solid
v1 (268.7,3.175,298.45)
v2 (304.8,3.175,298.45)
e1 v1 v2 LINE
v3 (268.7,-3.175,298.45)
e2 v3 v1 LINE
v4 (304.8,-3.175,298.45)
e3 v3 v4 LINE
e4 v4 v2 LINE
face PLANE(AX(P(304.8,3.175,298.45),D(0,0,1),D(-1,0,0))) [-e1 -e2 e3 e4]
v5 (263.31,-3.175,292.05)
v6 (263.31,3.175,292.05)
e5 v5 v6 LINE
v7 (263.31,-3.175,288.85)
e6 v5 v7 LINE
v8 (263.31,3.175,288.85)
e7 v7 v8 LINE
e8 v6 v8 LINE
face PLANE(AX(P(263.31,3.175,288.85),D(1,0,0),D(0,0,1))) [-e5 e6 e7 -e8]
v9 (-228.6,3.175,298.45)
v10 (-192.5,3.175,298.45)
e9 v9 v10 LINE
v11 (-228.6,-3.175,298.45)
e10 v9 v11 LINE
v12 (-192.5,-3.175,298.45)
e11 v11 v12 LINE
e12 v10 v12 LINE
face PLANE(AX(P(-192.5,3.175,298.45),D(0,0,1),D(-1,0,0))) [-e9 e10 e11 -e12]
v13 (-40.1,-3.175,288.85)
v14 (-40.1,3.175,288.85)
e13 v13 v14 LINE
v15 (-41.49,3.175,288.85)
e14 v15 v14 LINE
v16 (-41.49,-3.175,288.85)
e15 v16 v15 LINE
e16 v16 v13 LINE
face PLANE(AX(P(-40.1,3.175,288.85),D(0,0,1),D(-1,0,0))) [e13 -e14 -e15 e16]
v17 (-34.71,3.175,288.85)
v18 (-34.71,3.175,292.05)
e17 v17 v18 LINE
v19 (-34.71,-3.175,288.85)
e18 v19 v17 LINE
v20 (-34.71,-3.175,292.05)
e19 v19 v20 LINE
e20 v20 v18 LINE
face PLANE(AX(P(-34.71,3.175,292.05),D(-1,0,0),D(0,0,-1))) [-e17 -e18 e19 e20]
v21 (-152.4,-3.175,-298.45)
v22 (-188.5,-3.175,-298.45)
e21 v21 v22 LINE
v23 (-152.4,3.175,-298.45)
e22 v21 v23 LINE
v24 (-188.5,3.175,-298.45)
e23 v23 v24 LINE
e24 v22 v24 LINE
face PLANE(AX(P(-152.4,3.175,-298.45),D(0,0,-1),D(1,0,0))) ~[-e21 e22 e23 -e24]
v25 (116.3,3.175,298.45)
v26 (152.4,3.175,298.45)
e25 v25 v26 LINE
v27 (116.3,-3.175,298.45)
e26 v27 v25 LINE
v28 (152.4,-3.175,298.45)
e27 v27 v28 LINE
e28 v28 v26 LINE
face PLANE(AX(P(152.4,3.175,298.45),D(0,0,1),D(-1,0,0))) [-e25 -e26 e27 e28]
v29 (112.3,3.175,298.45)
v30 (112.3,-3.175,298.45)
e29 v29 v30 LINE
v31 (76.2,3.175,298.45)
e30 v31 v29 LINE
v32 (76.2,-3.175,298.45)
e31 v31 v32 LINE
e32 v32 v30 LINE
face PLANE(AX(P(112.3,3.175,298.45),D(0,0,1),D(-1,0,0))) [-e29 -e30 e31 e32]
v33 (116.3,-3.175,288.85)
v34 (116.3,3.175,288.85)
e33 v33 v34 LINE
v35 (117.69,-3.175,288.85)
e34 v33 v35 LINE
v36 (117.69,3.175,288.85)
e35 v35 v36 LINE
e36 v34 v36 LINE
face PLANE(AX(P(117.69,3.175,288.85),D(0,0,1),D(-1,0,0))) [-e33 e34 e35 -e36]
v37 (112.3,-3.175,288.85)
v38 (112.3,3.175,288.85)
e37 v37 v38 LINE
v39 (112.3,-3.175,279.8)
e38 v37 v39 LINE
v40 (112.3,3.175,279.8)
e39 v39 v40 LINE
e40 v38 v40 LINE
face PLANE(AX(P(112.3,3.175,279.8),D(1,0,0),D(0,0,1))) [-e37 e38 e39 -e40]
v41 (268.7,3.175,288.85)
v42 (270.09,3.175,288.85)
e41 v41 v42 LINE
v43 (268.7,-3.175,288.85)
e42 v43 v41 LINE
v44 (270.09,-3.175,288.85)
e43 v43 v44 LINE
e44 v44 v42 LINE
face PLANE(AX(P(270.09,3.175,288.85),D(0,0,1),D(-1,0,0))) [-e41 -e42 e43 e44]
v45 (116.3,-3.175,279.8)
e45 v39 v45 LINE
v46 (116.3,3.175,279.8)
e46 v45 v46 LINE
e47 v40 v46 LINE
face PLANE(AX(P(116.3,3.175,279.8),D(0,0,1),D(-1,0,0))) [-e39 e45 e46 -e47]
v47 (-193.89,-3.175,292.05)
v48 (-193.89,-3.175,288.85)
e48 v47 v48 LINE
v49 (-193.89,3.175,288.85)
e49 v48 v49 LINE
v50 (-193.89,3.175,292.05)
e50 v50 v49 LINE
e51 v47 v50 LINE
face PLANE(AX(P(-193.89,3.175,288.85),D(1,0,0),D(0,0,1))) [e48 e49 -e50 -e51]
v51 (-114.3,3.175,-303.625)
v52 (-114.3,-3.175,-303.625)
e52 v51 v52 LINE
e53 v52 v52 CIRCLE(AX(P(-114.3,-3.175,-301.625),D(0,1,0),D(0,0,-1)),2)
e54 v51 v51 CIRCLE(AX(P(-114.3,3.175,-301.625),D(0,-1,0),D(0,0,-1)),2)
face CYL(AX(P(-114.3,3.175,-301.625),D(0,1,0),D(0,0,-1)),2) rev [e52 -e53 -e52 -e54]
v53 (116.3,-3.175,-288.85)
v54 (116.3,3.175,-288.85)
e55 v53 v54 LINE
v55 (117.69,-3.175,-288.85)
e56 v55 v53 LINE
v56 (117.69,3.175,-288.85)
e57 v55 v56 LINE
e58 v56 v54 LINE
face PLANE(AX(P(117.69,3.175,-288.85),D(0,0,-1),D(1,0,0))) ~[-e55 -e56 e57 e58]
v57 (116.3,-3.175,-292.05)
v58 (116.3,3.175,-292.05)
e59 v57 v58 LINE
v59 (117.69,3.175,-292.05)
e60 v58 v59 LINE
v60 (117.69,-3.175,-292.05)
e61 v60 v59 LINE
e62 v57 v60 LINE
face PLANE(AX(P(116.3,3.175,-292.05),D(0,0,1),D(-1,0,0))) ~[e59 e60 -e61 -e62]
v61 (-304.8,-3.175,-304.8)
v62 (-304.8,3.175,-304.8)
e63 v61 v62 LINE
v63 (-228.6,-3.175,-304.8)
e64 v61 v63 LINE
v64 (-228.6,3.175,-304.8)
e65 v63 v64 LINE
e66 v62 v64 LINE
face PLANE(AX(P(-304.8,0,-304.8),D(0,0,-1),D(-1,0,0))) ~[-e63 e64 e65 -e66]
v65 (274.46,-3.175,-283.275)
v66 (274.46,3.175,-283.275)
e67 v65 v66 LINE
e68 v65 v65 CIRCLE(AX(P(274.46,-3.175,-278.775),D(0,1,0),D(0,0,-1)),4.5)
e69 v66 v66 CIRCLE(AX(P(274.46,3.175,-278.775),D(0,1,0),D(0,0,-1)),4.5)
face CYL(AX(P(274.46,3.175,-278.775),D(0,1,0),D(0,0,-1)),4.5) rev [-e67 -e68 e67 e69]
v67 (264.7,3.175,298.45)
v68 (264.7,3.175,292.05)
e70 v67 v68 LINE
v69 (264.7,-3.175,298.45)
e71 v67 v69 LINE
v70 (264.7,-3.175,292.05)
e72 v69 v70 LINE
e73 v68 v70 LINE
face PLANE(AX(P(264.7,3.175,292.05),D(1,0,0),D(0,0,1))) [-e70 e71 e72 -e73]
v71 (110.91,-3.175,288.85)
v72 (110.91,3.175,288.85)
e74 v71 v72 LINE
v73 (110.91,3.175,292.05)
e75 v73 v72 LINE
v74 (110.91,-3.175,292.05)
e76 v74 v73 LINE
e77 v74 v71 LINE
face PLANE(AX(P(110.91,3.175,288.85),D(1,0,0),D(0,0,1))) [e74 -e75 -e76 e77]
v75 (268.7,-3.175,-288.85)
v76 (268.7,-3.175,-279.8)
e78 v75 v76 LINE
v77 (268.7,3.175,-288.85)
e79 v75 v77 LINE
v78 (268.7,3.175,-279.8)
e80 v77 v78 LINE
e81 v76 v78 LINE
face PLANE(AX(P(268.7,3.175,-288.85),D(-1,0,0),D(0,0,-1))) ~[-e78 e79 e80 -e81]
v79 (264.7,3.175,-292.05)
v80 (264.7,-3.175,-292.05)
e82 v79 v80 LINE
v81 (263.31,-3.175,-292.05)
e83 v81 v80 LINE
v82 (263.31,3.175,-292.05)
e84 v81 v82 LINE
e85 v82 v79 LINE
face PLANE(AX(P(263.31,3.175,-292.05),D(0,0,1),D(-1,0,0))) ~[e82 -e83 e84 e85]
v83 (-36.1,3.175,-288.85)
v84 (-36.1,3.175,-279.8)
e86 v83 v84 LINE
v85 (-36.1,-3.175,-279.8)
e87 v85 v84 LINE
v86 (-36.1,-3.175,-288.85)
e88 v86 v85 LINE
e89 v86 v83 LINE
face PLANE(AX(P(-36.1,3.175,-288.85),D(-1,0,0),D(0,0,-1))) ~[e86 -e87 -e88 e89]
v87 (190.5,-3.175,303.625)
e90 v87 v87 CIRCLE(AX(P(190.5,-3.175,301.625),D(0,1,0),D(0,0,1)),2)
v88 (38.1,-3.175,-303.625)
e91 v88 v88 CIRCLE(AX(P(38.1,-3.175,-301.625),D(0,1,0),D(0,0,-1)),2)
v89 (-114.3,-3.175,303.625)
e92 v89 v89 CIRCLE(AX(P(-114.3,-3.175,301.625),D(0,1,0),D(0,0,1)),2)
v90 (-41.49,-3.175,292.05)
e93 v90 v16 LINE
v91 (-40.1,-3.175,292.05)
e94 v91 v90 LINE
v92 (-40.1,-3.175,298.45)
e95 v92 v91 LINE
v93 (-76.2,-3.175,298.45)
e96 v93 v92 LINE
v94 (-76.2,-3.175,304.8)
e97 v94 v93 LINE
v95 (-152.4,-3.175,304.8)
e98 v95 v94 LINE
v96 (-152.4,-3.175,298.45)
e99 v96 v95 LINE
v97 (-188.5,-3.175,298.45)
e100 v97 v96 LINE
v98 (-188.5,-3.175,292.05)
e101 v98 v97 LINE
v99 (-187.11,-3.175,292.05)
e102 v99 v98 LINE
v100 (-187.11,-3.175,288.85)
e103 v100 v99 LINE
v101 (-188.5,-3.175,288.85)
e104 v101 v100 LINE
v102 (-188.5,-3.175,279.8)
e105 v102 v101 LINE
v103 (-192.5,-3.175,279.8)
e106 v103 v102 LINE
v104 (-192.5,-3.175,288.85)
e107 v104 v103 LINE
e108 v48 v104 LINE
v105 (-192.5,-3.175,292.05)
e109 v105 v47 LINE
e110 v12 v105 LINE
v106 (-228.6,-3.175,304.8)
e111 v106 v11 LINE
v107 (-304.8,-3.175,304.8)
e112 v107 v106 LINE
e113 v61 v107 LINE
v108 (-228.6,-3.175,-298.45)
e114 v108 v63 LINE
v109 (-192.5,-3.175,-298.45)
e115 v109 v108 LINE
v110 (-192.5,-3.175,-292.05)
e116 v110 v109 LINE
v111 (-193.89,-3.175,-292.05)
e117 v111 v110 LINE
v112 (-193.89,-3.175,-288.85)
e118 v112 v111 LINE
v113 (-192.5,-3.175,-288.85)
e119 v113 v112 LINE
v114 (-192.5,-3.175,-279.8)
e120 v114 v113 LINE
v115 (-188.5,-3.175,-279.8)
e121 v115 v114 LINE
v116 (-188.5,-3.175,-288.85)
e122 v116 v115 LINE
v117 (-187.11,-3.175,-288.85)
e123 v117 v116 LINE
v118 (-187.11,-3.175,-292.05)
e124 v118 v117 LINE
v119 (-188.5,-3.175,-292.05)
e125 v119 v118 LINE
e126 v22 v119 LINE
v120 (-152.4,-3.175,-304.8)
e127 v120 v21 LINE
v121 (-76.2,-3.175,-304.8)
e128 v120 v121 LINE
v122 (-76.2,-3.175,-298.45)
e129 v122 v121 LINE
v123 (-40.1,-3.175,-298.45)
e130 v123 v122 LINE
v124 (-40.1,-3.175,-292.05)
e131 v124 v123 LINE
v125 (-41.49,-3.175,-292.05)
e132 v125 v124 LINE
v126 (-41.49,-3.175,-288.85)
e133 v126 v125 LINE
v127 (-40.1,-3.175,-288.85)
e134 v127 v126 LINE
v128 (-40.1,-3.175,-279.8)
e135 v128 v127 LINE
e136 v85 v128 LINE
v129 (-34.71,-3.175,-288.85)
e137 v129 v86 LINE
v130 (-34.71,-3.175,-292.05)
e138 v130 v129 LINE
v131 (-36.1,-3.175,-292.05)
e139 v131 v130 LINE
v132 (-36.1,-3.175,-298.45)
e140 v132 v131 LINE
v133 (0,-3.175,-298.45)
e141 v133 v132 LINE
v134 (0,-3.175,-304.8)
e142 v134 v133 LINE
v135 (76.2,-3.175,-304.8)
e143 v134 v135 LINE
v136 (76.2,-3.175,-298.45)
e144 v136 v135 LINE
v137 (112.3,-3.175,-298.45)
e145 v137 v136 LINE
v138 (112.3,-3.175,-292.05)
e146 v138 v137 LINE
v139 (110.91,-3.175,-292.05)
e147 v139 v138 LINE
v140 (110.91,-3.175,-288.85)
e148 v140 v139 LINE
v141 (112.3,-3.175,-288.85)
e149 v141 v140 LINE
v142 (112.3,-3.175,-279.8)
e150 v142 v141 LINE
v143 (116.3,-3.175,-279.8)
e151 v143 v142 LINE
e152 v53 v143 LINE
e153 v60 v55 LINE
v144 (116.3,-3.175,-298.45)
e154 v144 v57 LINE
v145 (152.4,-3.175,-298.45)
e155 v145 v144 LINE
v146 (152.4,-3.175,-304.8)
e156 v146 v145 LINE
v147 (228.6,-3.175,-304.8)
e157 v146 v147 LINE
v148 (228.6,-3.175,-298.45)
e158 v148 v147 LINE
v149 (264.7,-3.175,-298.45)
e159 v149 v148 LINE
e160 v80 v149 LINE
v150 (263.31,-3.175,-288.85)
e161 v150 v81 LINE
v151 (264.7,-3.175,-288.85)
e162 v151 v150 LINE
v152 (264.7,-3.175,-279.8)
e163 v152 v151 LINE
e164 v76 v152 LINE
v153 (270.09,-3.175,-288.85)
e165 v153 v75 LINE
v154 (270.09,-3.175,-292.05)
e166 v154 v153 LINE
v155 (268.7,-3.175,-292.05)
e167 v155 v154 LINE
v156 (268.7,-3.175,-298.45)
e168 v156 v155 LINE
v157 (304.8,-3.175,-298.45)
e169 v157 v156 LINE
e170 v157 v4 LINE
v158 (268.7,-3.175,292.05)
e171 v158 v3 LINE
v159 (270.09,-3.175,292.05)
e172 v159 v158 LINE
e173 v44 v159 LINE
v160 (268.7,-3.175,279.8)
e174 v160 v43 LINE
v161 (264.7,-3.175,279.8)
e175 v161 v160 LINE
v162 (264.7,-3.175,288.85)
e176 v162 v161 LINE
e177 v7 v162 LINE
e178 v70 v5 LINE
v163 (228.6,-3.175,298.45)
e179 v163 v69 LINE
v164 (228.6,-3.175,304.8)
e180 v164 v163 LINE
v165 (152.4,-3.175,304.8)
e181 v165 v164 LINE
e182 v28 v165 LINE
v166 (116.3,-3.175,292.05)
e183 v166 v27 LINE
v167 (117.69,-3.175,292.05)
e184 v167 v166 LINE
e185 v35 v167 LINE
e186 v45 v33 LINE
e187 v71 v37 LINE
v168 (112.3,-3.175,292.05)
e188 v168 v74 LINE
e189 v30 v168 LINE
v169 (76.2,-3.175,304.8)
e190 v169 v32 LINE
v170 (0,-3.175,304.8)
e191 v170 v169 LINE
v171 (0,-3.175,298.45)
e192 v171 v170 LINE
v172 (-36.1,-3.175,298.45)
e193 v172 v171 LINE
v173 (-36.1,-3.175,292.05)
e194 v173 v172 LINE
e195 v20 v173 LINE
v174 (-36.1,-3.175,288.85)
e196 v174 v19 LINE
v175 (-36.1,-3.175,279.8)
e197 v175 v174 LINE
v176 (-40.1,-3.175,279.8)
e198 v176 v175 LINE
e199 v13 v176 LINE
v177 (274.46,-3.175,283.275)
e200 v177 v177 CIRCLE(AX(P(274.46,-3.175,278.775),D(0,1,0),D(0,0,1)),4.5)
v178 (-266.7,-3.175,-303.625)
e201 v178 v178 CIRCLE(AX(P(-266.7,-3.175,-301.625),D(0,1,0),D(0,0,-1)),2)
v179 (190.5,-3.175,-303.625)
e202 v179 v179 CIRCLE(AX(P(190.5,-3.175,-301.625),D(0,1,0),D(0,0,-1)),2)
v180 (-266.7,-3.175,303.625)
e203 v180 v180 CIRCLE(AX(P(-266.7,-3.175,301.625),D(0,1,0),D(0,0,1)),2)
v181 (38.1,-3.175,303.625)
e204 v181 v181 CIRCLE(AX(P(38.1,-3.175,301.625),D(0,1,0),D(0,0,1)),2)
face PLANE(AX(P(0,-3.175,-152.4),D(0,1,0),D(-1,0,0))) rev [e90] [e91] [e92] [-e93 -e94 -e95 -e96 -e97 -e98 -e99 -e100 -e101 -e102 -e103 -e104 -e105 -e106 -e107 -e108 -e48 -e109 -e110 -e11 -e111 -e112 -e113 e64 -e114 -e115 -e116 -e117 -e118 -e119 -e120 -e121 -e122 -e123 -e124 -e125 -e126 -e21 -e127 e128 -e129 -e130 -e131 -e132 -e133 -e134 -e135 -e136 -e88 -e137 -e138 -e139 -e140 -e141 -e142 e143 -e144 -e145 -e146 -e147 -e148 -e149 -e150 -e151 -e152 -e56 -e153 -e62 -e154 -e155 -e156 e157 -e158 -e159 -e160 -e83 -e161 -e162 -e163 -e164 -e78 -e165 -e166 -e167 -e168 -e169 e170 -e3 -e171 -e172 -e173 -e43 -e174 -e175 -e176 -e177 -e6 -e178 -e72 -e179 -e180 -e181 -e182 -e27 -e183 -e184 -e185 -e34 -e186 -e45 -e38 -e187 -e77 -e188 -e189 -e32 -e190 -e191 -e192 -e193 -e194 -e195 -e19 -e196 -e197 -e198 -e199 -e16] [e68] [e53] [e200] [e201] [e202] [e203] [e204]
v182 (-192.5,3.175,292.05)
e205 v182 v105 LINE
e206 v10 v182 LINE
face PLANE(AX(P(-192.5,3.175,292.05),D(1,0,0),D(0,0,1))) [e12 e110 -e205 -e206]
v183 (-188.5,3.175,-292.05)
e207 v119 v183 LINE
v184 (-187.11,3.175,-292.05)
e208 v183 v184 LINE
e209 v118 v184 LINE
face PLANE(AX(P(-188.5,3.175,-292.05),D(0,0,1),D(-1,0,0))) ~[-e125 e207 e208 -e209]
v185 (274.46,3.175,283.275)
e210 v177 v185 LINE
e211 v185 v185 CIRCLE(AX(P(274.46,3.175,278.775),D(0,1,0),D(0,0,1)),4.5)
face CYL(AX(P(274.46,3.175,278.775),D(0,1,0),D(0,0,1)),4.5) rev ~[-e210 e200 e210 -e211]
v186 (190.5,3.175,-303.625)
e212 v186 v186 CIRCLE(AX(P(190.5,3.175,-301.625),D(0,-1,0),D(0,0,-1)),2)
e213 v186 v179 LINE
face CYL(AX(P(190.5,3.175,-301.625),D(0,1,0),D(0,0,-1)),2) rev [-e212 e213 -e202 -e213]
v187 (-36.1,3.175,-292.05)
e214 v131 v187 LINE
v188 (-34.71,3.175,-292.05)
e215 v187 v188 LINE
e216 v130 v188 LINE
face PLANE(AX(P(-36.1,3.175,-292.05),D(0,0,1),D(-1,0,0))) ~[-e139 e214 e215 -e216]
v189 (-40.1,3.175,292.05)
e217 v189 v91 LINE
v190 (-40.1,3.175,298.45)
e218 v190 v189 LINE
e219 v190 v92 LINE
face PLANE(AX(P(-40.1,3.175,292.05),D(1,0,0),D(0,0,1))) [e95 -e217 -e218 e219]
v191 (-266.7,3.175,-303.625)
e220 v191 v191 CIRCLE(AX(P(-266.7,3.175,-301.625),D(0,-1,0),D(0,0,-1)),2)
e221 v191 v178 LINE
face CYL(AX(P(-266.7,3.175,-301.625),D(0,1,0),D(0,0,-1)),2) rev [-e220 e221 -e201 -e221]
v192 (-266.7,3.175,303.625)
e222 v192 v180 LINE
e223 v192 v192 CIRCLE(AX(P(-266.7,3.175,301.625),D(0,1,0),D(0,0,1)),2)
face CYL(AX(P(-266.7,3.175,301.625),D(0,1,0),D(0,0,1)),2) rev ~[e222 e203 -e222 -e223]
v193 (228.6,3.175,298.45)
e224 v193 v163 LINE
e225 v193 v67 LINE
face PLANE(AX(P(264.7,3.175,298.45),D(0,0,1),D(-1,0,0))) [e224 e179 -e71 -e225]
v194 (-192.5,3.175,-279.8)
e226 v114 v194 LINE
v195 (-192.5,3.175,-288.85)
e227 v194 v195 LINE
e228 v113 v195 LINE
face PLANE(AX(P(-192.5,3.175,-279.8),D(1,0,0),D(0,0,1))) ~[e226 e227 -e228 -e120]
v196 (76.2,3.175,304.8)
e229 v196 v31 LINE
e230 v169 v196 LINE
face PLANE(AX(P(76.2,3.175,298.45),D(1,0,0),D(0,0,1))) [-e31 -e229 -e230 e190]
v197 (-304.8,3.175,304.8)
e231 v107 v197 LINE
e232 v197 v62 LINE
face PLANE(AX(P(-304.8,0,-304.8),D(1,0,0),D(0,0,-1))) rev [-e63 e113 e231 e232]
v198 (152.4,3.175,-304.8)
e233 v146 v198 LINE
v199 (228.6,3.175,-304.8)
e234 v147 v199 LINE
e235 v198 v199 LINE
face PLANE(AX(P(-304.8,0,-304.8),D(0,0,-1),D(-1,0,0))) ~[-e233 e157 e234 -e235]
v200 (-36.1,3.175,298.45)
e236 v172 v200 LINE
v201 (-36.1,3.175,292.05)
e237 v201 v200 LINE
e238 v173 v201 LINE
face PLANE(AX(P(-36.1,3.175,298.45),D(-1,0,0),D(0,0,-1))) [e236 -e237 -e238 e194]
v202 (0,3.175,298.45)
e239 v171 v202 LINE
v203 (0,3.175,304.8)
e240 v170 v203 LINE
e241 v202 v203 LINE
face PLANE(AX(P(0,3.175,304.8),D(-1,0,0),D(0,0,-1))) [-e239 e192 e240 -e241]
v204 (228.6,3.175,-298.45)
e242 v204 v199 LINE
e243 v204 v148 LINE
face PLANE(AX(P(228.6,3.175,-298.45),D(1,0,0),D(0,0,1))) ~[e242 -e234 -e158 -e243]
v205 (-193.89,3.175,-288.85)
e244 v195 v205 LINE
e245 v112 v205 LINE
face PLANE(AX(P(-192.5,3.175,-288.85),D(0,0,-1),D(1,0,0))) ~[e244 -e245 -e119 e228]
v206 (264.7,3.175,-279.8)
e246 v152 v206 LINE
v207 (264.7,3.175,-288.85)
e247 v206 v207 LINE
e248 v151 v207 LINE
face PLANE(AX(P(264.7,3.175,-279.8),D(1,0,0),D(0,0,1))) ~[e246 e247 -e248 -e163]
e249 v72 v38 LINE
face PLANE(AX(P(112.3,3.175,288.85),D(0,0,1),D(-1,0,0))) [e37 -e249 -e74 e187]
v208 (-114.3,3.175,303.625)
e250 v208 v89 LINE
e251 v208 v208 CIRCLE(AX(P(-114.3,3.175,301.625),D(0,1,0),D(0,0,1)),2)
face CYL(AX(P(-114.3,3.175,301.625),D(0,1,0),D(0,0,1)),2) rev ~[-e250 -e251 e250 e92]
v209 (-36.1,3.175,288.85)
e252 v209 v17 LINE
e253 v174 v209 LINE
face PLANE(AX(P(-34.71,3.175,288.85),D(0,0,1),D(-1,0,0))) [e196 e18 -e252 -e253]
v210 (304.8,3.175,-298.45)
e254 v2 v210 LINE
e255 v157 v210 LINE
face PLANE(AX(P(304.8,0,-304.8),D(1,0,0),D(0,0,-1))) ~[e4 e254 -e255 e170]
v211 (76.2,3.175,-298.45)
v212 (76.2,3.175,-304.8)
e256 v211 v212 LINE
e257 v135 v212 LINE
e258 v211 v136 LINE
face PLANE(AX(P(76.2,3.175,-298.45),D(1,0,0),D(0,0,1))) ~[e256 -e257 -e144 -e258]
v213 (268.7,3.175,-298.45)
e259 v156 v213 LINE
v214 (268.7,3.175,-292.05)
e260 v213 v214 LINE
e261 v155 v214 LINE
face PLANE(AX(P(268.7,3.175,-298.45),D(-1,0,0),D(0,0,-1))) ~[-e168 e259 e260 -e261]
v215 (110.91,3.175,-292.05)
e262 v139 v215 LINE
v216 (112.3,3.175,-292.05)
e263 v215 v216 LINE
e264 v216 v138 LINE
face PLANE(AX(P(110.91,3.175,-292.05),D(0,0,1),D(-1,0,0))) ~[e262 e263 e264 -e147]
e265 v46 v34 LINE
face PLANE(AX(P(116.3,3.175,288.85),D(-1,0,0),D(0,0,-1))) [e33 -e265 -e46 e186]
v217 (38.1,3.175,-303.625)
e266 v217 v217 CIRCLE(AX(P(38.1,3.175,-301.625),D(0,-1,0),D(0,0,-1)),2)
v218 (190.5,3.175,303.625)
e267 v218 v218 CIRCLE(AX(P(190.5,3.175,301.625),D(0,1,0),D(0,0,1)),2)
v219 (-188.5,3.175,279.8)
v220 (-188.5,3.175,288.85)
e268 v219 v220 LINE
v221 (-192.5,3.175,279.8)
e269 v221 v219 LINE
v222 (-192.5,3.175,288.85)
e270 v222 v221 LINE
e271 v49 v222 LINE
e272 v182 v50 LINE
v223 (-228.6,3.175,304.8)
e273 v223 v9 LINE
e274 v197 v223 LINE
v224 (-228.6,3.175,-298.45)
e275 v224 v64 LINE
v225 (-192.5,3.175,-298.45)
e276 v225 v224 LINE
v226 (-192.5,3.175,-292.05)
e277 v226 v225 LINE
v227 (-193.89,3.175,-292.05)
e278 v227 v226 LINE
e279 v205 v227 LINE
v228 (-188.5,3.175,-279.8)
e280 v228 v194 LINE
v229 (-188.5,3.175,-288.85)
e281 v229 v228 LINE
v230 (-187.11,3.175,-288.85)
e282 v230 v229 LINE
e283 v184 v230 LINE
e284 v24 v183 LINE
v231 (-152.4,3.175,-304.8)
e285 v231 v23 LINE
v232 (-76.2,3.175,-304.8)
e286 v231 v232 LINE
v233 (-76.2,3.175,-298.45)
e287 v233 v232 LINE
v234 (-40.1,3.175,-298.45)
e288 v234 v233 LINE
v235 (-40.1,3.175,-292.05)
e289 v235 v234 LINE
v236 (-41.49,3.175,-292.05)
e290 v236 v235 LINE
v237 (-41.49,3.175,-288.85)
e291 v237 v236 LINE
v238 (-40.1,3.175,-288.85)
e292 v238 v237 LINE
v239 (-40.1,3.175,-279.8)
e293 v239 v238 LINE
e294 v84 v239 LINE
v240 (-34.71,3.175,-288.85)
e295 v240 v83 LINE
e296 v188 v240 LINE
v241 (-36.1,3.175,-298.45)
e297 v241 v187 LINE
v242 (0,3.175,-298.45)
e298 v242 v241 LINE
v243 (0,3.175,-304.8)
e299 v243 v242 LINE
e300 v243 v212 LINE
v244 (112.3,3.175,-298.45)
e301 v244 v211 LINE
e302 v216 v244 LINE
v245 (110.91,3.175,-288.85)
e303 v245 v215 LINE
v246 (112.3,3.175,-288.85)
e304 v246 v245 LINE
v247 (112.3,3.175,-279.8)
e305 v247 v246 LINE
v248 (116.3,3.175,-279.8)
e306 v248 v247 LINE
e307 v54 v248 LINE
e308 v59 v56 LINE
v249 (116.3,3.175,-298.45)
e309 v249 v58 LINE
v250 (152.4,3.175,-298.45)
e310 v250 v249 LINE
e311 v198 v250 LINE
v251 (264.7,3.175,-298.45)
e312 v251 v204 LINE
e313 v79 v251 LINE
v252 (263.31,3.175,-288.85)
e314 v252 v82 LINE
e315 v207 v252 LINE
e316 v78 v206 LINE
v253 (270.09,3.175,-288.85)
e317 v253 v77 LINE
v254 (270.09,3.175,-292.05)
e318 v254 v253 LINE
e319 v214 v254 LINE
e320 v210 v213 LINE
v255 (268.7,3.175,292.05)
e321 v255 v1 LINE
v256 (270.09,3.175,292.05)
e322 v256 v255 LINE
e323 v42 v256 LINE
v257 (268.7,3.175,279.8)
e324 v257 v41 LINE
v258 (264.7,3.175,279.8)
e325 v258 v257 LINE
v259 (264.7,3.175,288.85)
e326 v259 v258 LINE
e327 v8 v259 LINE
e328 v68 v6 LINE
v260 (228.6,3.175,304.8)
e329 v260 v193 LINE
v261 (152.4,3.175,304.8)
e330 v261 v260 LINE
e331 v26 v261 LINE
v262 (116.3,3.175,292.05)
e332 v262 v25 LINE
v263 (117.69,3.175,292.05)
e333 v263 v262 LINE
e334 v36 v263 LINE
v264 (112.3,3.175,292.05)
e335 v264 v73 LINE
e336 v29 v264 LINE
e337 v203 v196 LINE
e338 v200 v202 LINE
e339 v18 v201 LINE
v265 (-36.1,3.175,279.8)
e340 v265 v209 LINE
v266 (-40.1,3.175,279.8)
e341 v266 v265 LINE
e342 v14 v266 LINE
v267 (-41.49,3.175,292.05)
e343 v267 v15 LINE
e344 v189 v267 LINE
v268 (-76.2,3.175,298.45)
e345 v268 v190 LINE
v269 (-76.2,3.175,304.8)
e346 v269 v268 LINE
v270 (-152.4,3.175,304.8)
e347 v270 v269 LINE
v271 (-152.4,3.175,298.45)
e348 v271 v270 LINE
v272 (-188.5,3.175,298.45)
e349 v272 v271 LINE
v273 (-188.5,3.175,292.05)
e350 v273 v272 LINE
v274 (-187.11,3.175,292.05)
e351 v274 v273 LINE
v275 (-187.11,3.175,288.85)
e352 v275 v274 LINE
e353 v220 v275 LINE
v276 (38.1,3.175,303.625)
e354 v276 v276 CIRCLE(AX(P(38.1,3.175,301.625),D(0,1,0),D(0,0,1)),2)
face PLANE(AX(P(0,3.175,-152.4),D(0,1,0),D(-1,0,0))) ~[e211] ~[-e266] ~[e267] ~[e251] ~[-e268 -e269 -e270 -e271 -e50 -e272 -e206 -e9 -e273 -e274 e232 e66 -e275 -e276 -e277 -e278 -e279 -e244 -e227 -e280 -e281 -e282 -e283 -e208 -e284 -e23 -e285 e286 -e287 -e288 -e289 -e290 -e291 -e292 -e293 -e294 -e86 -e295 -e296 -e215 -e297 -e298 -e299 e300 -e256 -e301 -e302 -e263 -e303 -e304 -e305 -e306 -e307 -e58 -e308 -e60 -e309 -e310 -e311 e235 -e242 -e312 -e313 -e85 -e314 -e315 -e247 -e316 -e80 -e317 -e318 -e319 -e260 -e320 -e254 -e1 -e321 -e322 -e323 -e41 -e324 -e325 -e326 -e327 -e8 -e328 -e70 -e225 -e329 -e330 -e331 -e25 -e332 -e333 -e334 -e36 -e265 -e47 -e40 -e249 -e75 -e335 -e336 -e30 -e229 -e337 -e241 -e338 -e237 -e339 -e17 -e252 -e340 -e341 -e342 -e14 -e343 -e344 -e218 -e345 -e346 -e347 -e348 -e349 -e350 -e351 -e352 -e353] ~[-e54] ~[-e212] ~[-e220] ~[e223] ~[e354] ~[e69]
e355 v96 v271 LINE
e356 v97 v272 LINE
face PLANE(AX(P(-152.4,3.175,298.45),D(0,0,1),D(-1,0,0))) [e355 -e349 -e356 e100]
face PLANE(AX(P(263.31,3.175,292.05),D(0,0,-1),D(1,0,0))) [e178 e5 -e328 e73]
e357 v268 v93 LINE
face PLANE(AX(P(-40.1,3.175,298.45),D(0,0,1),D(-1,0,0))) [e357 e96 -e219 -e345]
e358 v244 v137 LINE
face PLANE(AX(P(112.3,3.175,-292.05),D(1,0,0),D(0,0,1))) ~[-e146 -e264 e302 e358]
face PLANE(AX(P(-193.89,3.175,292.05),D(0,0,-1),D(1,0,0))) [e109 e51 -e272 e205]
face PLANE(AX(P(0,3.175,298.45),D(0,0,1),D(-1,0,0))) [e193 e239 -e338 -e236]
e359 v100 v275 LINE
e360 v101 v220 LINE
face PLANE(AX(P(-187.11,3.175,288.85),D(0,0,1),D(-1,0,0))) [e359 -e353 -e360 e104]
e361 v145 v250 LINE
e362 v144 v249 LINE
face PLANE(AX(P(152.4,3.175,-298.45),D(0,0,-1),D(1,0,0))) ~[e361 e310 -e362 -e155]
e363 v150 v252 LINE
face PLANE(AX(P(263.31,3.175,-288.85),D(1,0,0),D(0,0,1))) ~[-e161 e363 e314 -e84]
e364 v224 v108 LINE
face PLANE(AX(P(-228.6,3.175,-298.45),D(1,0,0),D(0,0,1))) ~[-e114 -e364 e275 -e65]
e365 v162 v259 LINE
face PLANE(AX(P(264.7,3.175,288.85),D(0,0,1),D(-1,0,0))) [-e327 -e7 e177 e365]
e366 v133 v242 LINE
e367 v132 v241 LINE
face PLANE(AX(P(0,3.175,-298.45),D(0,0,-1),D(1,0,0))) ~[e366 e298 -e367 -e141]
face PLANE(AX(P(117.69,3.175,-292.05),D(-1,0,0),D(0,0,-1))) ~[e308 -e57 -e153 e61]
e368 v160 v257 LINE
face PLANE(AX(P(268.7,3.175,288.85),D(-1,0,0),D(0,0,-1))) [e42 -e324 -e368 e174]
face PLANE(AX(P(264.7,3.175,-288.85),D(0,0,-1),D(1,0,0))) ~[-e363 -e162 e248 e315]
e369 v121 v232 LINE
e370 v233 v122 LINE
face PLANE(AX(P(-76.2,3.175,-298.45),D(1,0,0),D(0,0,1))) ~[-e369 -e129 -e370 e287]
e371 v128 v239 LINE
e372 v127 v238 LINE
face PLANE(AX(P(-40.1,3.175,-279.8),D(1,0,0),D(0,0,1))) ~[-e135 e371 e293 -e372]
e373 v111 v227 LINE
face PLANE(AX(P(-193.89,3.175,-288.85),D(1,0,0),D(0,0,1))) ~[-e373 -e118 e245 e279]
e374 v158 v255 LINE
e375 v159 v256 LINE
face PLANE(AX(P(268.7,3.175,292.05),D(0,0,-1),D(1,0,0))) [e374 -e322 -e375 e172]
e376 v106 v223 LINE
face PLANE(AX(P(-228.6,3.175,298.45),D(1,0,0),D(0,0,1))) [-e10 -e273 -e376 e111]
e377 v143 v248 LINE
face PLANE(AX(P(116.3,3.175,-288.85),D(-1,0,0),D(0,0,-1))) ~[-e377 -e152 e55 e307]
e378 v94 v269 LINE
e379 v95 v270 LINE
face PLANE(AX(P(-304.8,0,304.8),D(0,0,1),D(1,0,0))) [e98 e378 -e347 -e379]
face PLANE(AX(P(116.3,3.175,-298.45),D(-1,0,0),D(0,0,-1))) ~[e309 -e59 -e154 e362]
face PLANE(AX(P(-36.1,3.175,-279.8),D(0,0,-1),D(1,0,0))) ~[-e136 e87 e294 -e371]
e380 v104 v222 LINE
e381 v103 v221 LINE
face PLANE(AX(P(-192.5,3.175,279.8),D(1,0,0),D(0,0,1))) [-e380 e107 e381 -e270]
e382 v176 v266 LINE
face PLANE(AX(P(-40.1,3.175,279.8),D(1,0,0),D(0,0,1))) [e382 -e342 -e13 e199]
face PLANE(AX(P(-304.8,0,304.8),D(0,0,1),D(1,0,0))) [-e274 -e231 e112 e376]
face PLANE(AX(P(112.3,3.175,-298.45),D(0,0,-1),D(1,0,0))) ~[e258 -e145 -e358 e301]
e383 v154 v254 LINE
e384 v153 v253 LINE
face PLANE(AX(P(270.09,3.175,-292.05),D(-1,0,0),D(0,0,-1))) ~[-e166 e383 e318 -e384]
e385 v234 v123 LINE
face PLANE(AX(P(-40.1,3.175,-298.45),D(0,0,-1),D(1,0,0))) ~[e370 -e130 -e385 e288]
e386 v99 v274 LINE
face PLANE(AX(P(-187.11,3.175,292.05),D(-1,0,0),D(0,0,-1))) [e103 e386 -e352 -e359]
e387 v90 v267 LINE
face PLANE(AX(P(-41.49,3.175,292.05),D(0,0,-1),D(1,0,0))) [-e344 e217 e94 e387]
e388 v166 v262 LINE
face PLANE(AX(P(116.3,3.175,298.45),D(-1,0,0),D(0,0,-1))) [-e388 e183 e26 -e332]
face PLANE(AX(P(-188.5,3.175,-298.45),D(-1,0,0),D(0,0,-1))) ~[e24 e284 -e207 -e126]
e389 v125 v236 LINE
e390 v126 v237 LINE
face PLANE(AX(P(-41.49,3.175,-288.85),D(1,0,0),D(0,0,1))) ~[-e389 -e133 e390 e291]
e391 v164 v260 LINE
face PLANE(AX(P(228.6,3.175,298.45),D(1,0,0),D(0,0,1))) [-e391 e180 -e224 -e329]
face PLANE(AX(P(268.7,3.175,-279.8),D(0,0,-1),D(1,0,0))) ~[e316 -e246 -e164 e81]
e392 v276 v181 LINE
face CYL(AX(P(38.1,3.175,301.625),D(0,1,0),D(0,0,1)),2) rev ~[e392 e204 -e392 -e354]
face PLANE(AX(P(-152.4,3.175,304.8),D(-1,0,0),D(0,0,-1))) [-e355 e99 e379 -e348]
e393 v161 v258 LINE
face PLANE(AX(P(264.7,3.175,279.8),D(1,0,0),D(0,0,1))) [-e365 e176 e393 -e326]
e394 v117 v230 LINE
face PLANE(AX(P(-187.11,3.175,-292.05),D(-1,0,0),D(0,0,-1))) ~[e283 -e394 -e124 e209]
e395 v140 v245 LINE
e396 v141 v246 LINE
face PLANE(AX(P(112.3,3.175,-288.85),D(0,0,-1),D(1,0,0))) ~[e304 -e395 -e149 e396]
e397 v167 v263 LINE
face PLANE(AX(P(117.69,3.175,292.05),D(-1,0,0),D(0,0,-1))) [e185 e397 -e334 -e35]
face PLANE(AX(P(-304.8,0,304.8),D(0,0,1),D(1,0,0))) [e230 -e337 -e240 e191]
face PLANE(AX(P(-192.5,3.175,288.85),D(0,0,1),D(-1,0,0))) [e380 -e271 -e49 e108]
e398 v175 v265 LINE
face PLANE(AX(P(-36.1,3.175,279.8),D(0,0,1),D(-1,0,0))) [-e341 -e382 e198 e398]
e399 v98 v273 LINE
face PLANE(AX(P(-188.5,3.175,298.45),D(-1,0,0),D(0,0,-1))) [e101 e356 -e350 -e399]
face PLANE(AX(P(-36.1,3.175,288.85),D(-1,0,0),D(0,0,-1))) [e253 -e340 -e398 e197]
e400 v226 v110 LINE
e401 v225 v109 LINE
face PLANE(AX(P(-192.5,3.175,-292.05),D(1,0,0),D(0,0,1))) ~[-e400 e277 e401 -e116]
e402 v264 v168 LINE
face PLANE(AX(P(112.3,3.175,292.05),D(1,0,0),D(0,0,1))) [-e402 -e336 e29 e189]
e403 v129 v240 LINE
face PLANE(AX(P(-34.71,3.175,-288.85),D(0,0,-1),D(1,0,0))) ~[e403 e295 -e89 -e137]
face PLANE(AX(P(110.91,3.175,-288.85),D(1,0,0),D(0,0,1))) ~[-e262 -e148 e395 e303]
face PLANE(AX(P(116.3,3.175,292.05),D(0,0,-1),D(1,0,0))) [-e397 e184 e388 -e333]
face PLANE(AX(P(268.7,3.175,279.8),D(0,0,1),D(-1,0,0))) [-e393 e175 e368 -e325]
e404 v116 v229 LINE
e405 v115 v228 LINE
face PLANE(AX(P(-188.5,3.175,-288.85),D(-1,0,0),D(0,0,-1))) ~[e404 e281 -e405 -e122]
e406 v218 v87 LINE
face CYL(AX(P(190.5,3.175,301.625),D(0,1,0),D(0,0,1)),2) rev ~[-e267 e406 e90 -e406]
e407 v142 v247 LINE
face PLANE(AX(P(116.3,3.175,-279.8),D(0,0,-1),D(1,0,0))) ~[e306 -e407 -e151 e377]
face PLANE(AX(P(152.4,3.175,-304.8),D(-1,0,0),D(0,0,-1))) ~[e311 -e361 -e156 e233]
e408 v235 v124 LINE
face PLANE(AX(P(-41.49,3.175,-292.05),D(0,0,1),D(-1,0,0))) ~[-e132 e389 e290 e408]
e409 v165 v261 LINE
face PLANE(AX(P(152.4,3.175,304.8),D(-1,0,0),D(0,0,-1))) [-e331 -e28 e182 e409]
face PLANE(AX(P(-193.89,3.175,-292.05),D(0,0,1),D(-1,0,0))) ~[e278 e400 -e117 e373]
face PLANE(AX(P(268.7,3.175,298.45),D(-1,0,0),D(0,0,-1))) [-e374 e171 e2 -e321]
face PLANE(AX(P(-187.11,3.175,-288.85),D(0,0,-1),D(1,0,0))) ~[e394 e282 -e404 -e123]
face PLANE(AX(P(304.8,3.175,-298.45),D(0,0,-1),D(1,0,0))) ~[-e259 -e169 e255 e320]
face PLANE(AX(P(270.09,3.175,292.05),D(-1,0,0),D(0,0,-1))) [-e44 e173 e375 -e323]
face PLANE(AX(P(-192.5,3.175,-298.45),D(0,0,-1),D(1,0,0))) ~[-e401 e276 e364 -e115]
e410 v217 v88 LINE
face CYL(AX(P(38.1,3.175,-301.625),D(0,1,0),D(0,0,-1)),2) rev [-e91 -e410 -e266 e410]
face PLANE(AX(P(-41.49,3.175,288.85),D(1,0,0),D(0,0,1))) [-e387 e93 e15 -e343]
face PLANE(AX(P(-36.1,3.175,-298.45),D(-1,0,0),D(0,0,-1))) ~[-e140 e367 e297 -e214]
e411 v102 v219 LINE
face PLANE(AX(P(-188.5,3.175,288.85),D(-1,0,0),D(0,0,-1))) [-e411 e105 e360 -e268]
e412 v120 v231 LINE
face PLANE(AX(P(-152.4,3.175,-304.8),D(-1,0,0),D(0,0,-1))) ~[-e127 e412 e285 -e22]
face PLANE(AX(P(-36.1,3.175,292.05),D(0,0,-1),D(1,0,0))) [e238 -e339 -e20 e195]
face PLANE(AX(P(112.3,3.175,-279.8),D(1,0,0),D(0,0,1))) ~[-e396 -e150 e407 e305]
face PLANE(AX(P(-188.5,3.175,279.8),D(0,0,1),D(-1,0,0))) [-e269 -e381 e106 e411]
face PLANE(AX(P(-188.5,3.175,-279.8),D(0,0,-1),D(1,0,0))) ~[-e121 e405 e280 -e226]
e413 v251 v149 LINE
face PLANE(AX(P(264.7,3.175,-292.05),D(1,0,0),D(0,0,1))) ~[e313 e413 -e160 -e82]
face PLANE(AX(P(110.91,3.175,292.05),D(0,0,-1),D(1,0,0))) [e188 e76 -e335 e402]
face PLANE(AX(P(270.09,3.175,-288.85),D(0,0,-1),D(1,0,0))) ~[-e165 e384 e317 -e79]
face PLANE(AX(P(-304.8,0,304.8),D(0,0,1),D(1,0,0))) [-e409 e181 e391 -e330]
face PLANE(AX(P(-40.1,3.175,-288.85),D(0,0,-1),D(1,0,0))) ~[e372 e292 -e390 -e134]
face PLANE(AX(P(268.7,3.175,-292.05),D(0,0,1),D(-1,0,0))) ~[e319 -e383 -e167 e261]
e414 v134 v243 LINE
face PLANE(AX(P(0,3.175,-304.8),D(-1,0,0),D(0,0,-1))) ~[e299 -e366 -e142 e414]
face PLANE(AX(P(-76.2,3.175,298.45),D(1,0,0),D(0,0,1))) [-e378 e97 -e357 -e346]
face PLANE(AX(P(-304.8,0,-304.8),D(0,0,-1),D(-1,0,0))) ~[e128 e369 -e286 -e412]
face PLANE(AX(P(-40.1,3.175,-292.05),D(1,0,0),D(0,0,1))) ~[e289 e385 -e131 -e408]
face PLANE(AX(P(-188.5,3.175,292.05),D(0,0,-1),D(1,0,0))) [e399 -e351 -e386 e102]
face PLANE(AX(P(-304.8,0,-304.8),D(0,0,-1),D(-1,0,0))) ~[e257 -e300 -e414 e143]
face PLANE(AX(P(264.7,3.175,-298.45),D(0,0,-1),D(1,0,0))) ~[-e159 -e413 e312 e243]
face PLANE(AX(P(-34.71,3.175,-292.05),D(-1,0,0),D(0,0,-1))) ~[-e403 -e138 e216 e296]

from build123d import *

# Parameters (mm, degrees)
SKETCH1_W           = 609.6
SKETCH1_H           = 304.8
BOSS_EXTRUDE1_DEPTH = 3.175
SKETCH2_R           = 2
SKETCH2_R_2         = 4.5
CUT_EXTRUDE1_DEPTH  = 432.099063441


with BuildPart() as part:
    # Sketch1 → Boss-Extrude1 (new, symmetric)
    with BuildSketch(Plane(origin=(0, 0, 0), x_dir=(1, 0, 0), z_dir=(0, 1, 0))):
        with Locations((0, -152.4)):
            Rectangle(SKETCH1_W, SKETCH1_H)
    boss_extrude1 = extrude(amount=BOSS_EXTRUDE1_DEPTH, both=True)

    # Sketch2 → Cut-Extrude1 (cut, symmetric)
    with BuildSketch(Plane(origin=(0, 3.175, 0), x_dir=(1, 0, 0), z_dir=(0, 1, 0))):
        with Locations(Location((-266.7, -301.625, 0), (0, 0, 270))):
            Circle(SKETCH2_R)
        Polygon((-228.6, -298.45), (-228.6, -304.8), (-152.4, -304.8), (-152.4, -298.45), (-188.5, -298.45), (-192.5, -298.45), align=None)
        Polygon((-192.5, -292.05), (-192.5, -298.45), (-188.5, -298.45), (-188.5, -292.05), (-187.11, -292.05), (-187.11, -288.85), (-188.5, -288.85), (-188.5, -279.8), (-192.5, -279.8), (-192.5, -288.85), (-193.89, -288.85), (-193.89, -292.05), align=None)
        with Locations(Location((-114.3, -301.625, 0), (0, 0, 270))):
            Circle(SKETCH2_R)
        Polygon((-76.2, -298.45), (-76.2, -304.8), (0, -304.8), (0, -298.45), (-36.1, -298.45), (-40.1, -298.45), align=None)
        Polygon((-40.1, -292.05), (-40.1, -298.45), (-36.1, -298.45), (-36.1, -292.05), (-34.71, -292.05), (-34.71, -288.85), (-36.1, -288.85), (-36.1, -279.8), (-40.1, -279.8), (-40.1, -288.85), (-41.49, -288.85), (-41.49, -292.05), align=None)
        with Locations(Location((38.1, -301.625, 0), (0, 0, 270))):
            Circle(SKETCH2_R)
        Polygon((76.2, -298.45), (76.2, -304.8), (152.4, -304.8), (152.4, -298.45), (116.3, -298.45), (112.3, -298.45), align=None)
        Polygon((112.3, -292.05), (112.3, -298.45), (116.3, -298.45), (116.3, -292.05), (117.69, -292.05), (117.69, -288.85), (116.3, -288.85), (116.3, -279.8), (112.3, -279.8), (112.3, -288.85), (110.91, -288.85), (110.91, -292.05), align=None)
        with Locations(Location((190.5, -301.625, 0), (0, 0, 270))):
            Circle(SKETCH2_R)
        Polygon((228.6, -298.45), (228.6, -304.8), (304.8, -304.8), (304.8, -298.45), (268.7, -298.45), (264.7, -298.45), align=None)
        Polygon((264.7, -292.05), (264.7, -298.45), (268.7, -298.45), (268.7, -292.05), (270.09, -292.05), (270.09, -288.85), (268.7, -288.85), (268.7, -279.8), (264.7, -279.8), (264.7, -288.85), (263.31, -288.85), (263.31, -292.05), align=None)
        with Locations(Location((274.46, -278.775, 0), (0, 0, 270))):
            Circle(SKETCH2_R_2)
    cut_extrude1 = extrude(amount=CUT_EXTRUDE1_DEPTH, both=True, mode=Mode.SUBTRACT)

    # Mirror1: Boss-Extrude1, Cut-Extrude1 across plane
    add(boss_extrude1.mirror(Plane(origin=(0, 3.175, 0), x_dir=(1, 0, 0), z_dir=(0, 0, -1))))
    add(cut_extrude1.mirror(Plane(origin=(0, 3.175, 0), x_dir=(1, 0, 0), z_dir=(0, 0, -1))), mode=Mode.SUBTRACT)


solid = part.part
